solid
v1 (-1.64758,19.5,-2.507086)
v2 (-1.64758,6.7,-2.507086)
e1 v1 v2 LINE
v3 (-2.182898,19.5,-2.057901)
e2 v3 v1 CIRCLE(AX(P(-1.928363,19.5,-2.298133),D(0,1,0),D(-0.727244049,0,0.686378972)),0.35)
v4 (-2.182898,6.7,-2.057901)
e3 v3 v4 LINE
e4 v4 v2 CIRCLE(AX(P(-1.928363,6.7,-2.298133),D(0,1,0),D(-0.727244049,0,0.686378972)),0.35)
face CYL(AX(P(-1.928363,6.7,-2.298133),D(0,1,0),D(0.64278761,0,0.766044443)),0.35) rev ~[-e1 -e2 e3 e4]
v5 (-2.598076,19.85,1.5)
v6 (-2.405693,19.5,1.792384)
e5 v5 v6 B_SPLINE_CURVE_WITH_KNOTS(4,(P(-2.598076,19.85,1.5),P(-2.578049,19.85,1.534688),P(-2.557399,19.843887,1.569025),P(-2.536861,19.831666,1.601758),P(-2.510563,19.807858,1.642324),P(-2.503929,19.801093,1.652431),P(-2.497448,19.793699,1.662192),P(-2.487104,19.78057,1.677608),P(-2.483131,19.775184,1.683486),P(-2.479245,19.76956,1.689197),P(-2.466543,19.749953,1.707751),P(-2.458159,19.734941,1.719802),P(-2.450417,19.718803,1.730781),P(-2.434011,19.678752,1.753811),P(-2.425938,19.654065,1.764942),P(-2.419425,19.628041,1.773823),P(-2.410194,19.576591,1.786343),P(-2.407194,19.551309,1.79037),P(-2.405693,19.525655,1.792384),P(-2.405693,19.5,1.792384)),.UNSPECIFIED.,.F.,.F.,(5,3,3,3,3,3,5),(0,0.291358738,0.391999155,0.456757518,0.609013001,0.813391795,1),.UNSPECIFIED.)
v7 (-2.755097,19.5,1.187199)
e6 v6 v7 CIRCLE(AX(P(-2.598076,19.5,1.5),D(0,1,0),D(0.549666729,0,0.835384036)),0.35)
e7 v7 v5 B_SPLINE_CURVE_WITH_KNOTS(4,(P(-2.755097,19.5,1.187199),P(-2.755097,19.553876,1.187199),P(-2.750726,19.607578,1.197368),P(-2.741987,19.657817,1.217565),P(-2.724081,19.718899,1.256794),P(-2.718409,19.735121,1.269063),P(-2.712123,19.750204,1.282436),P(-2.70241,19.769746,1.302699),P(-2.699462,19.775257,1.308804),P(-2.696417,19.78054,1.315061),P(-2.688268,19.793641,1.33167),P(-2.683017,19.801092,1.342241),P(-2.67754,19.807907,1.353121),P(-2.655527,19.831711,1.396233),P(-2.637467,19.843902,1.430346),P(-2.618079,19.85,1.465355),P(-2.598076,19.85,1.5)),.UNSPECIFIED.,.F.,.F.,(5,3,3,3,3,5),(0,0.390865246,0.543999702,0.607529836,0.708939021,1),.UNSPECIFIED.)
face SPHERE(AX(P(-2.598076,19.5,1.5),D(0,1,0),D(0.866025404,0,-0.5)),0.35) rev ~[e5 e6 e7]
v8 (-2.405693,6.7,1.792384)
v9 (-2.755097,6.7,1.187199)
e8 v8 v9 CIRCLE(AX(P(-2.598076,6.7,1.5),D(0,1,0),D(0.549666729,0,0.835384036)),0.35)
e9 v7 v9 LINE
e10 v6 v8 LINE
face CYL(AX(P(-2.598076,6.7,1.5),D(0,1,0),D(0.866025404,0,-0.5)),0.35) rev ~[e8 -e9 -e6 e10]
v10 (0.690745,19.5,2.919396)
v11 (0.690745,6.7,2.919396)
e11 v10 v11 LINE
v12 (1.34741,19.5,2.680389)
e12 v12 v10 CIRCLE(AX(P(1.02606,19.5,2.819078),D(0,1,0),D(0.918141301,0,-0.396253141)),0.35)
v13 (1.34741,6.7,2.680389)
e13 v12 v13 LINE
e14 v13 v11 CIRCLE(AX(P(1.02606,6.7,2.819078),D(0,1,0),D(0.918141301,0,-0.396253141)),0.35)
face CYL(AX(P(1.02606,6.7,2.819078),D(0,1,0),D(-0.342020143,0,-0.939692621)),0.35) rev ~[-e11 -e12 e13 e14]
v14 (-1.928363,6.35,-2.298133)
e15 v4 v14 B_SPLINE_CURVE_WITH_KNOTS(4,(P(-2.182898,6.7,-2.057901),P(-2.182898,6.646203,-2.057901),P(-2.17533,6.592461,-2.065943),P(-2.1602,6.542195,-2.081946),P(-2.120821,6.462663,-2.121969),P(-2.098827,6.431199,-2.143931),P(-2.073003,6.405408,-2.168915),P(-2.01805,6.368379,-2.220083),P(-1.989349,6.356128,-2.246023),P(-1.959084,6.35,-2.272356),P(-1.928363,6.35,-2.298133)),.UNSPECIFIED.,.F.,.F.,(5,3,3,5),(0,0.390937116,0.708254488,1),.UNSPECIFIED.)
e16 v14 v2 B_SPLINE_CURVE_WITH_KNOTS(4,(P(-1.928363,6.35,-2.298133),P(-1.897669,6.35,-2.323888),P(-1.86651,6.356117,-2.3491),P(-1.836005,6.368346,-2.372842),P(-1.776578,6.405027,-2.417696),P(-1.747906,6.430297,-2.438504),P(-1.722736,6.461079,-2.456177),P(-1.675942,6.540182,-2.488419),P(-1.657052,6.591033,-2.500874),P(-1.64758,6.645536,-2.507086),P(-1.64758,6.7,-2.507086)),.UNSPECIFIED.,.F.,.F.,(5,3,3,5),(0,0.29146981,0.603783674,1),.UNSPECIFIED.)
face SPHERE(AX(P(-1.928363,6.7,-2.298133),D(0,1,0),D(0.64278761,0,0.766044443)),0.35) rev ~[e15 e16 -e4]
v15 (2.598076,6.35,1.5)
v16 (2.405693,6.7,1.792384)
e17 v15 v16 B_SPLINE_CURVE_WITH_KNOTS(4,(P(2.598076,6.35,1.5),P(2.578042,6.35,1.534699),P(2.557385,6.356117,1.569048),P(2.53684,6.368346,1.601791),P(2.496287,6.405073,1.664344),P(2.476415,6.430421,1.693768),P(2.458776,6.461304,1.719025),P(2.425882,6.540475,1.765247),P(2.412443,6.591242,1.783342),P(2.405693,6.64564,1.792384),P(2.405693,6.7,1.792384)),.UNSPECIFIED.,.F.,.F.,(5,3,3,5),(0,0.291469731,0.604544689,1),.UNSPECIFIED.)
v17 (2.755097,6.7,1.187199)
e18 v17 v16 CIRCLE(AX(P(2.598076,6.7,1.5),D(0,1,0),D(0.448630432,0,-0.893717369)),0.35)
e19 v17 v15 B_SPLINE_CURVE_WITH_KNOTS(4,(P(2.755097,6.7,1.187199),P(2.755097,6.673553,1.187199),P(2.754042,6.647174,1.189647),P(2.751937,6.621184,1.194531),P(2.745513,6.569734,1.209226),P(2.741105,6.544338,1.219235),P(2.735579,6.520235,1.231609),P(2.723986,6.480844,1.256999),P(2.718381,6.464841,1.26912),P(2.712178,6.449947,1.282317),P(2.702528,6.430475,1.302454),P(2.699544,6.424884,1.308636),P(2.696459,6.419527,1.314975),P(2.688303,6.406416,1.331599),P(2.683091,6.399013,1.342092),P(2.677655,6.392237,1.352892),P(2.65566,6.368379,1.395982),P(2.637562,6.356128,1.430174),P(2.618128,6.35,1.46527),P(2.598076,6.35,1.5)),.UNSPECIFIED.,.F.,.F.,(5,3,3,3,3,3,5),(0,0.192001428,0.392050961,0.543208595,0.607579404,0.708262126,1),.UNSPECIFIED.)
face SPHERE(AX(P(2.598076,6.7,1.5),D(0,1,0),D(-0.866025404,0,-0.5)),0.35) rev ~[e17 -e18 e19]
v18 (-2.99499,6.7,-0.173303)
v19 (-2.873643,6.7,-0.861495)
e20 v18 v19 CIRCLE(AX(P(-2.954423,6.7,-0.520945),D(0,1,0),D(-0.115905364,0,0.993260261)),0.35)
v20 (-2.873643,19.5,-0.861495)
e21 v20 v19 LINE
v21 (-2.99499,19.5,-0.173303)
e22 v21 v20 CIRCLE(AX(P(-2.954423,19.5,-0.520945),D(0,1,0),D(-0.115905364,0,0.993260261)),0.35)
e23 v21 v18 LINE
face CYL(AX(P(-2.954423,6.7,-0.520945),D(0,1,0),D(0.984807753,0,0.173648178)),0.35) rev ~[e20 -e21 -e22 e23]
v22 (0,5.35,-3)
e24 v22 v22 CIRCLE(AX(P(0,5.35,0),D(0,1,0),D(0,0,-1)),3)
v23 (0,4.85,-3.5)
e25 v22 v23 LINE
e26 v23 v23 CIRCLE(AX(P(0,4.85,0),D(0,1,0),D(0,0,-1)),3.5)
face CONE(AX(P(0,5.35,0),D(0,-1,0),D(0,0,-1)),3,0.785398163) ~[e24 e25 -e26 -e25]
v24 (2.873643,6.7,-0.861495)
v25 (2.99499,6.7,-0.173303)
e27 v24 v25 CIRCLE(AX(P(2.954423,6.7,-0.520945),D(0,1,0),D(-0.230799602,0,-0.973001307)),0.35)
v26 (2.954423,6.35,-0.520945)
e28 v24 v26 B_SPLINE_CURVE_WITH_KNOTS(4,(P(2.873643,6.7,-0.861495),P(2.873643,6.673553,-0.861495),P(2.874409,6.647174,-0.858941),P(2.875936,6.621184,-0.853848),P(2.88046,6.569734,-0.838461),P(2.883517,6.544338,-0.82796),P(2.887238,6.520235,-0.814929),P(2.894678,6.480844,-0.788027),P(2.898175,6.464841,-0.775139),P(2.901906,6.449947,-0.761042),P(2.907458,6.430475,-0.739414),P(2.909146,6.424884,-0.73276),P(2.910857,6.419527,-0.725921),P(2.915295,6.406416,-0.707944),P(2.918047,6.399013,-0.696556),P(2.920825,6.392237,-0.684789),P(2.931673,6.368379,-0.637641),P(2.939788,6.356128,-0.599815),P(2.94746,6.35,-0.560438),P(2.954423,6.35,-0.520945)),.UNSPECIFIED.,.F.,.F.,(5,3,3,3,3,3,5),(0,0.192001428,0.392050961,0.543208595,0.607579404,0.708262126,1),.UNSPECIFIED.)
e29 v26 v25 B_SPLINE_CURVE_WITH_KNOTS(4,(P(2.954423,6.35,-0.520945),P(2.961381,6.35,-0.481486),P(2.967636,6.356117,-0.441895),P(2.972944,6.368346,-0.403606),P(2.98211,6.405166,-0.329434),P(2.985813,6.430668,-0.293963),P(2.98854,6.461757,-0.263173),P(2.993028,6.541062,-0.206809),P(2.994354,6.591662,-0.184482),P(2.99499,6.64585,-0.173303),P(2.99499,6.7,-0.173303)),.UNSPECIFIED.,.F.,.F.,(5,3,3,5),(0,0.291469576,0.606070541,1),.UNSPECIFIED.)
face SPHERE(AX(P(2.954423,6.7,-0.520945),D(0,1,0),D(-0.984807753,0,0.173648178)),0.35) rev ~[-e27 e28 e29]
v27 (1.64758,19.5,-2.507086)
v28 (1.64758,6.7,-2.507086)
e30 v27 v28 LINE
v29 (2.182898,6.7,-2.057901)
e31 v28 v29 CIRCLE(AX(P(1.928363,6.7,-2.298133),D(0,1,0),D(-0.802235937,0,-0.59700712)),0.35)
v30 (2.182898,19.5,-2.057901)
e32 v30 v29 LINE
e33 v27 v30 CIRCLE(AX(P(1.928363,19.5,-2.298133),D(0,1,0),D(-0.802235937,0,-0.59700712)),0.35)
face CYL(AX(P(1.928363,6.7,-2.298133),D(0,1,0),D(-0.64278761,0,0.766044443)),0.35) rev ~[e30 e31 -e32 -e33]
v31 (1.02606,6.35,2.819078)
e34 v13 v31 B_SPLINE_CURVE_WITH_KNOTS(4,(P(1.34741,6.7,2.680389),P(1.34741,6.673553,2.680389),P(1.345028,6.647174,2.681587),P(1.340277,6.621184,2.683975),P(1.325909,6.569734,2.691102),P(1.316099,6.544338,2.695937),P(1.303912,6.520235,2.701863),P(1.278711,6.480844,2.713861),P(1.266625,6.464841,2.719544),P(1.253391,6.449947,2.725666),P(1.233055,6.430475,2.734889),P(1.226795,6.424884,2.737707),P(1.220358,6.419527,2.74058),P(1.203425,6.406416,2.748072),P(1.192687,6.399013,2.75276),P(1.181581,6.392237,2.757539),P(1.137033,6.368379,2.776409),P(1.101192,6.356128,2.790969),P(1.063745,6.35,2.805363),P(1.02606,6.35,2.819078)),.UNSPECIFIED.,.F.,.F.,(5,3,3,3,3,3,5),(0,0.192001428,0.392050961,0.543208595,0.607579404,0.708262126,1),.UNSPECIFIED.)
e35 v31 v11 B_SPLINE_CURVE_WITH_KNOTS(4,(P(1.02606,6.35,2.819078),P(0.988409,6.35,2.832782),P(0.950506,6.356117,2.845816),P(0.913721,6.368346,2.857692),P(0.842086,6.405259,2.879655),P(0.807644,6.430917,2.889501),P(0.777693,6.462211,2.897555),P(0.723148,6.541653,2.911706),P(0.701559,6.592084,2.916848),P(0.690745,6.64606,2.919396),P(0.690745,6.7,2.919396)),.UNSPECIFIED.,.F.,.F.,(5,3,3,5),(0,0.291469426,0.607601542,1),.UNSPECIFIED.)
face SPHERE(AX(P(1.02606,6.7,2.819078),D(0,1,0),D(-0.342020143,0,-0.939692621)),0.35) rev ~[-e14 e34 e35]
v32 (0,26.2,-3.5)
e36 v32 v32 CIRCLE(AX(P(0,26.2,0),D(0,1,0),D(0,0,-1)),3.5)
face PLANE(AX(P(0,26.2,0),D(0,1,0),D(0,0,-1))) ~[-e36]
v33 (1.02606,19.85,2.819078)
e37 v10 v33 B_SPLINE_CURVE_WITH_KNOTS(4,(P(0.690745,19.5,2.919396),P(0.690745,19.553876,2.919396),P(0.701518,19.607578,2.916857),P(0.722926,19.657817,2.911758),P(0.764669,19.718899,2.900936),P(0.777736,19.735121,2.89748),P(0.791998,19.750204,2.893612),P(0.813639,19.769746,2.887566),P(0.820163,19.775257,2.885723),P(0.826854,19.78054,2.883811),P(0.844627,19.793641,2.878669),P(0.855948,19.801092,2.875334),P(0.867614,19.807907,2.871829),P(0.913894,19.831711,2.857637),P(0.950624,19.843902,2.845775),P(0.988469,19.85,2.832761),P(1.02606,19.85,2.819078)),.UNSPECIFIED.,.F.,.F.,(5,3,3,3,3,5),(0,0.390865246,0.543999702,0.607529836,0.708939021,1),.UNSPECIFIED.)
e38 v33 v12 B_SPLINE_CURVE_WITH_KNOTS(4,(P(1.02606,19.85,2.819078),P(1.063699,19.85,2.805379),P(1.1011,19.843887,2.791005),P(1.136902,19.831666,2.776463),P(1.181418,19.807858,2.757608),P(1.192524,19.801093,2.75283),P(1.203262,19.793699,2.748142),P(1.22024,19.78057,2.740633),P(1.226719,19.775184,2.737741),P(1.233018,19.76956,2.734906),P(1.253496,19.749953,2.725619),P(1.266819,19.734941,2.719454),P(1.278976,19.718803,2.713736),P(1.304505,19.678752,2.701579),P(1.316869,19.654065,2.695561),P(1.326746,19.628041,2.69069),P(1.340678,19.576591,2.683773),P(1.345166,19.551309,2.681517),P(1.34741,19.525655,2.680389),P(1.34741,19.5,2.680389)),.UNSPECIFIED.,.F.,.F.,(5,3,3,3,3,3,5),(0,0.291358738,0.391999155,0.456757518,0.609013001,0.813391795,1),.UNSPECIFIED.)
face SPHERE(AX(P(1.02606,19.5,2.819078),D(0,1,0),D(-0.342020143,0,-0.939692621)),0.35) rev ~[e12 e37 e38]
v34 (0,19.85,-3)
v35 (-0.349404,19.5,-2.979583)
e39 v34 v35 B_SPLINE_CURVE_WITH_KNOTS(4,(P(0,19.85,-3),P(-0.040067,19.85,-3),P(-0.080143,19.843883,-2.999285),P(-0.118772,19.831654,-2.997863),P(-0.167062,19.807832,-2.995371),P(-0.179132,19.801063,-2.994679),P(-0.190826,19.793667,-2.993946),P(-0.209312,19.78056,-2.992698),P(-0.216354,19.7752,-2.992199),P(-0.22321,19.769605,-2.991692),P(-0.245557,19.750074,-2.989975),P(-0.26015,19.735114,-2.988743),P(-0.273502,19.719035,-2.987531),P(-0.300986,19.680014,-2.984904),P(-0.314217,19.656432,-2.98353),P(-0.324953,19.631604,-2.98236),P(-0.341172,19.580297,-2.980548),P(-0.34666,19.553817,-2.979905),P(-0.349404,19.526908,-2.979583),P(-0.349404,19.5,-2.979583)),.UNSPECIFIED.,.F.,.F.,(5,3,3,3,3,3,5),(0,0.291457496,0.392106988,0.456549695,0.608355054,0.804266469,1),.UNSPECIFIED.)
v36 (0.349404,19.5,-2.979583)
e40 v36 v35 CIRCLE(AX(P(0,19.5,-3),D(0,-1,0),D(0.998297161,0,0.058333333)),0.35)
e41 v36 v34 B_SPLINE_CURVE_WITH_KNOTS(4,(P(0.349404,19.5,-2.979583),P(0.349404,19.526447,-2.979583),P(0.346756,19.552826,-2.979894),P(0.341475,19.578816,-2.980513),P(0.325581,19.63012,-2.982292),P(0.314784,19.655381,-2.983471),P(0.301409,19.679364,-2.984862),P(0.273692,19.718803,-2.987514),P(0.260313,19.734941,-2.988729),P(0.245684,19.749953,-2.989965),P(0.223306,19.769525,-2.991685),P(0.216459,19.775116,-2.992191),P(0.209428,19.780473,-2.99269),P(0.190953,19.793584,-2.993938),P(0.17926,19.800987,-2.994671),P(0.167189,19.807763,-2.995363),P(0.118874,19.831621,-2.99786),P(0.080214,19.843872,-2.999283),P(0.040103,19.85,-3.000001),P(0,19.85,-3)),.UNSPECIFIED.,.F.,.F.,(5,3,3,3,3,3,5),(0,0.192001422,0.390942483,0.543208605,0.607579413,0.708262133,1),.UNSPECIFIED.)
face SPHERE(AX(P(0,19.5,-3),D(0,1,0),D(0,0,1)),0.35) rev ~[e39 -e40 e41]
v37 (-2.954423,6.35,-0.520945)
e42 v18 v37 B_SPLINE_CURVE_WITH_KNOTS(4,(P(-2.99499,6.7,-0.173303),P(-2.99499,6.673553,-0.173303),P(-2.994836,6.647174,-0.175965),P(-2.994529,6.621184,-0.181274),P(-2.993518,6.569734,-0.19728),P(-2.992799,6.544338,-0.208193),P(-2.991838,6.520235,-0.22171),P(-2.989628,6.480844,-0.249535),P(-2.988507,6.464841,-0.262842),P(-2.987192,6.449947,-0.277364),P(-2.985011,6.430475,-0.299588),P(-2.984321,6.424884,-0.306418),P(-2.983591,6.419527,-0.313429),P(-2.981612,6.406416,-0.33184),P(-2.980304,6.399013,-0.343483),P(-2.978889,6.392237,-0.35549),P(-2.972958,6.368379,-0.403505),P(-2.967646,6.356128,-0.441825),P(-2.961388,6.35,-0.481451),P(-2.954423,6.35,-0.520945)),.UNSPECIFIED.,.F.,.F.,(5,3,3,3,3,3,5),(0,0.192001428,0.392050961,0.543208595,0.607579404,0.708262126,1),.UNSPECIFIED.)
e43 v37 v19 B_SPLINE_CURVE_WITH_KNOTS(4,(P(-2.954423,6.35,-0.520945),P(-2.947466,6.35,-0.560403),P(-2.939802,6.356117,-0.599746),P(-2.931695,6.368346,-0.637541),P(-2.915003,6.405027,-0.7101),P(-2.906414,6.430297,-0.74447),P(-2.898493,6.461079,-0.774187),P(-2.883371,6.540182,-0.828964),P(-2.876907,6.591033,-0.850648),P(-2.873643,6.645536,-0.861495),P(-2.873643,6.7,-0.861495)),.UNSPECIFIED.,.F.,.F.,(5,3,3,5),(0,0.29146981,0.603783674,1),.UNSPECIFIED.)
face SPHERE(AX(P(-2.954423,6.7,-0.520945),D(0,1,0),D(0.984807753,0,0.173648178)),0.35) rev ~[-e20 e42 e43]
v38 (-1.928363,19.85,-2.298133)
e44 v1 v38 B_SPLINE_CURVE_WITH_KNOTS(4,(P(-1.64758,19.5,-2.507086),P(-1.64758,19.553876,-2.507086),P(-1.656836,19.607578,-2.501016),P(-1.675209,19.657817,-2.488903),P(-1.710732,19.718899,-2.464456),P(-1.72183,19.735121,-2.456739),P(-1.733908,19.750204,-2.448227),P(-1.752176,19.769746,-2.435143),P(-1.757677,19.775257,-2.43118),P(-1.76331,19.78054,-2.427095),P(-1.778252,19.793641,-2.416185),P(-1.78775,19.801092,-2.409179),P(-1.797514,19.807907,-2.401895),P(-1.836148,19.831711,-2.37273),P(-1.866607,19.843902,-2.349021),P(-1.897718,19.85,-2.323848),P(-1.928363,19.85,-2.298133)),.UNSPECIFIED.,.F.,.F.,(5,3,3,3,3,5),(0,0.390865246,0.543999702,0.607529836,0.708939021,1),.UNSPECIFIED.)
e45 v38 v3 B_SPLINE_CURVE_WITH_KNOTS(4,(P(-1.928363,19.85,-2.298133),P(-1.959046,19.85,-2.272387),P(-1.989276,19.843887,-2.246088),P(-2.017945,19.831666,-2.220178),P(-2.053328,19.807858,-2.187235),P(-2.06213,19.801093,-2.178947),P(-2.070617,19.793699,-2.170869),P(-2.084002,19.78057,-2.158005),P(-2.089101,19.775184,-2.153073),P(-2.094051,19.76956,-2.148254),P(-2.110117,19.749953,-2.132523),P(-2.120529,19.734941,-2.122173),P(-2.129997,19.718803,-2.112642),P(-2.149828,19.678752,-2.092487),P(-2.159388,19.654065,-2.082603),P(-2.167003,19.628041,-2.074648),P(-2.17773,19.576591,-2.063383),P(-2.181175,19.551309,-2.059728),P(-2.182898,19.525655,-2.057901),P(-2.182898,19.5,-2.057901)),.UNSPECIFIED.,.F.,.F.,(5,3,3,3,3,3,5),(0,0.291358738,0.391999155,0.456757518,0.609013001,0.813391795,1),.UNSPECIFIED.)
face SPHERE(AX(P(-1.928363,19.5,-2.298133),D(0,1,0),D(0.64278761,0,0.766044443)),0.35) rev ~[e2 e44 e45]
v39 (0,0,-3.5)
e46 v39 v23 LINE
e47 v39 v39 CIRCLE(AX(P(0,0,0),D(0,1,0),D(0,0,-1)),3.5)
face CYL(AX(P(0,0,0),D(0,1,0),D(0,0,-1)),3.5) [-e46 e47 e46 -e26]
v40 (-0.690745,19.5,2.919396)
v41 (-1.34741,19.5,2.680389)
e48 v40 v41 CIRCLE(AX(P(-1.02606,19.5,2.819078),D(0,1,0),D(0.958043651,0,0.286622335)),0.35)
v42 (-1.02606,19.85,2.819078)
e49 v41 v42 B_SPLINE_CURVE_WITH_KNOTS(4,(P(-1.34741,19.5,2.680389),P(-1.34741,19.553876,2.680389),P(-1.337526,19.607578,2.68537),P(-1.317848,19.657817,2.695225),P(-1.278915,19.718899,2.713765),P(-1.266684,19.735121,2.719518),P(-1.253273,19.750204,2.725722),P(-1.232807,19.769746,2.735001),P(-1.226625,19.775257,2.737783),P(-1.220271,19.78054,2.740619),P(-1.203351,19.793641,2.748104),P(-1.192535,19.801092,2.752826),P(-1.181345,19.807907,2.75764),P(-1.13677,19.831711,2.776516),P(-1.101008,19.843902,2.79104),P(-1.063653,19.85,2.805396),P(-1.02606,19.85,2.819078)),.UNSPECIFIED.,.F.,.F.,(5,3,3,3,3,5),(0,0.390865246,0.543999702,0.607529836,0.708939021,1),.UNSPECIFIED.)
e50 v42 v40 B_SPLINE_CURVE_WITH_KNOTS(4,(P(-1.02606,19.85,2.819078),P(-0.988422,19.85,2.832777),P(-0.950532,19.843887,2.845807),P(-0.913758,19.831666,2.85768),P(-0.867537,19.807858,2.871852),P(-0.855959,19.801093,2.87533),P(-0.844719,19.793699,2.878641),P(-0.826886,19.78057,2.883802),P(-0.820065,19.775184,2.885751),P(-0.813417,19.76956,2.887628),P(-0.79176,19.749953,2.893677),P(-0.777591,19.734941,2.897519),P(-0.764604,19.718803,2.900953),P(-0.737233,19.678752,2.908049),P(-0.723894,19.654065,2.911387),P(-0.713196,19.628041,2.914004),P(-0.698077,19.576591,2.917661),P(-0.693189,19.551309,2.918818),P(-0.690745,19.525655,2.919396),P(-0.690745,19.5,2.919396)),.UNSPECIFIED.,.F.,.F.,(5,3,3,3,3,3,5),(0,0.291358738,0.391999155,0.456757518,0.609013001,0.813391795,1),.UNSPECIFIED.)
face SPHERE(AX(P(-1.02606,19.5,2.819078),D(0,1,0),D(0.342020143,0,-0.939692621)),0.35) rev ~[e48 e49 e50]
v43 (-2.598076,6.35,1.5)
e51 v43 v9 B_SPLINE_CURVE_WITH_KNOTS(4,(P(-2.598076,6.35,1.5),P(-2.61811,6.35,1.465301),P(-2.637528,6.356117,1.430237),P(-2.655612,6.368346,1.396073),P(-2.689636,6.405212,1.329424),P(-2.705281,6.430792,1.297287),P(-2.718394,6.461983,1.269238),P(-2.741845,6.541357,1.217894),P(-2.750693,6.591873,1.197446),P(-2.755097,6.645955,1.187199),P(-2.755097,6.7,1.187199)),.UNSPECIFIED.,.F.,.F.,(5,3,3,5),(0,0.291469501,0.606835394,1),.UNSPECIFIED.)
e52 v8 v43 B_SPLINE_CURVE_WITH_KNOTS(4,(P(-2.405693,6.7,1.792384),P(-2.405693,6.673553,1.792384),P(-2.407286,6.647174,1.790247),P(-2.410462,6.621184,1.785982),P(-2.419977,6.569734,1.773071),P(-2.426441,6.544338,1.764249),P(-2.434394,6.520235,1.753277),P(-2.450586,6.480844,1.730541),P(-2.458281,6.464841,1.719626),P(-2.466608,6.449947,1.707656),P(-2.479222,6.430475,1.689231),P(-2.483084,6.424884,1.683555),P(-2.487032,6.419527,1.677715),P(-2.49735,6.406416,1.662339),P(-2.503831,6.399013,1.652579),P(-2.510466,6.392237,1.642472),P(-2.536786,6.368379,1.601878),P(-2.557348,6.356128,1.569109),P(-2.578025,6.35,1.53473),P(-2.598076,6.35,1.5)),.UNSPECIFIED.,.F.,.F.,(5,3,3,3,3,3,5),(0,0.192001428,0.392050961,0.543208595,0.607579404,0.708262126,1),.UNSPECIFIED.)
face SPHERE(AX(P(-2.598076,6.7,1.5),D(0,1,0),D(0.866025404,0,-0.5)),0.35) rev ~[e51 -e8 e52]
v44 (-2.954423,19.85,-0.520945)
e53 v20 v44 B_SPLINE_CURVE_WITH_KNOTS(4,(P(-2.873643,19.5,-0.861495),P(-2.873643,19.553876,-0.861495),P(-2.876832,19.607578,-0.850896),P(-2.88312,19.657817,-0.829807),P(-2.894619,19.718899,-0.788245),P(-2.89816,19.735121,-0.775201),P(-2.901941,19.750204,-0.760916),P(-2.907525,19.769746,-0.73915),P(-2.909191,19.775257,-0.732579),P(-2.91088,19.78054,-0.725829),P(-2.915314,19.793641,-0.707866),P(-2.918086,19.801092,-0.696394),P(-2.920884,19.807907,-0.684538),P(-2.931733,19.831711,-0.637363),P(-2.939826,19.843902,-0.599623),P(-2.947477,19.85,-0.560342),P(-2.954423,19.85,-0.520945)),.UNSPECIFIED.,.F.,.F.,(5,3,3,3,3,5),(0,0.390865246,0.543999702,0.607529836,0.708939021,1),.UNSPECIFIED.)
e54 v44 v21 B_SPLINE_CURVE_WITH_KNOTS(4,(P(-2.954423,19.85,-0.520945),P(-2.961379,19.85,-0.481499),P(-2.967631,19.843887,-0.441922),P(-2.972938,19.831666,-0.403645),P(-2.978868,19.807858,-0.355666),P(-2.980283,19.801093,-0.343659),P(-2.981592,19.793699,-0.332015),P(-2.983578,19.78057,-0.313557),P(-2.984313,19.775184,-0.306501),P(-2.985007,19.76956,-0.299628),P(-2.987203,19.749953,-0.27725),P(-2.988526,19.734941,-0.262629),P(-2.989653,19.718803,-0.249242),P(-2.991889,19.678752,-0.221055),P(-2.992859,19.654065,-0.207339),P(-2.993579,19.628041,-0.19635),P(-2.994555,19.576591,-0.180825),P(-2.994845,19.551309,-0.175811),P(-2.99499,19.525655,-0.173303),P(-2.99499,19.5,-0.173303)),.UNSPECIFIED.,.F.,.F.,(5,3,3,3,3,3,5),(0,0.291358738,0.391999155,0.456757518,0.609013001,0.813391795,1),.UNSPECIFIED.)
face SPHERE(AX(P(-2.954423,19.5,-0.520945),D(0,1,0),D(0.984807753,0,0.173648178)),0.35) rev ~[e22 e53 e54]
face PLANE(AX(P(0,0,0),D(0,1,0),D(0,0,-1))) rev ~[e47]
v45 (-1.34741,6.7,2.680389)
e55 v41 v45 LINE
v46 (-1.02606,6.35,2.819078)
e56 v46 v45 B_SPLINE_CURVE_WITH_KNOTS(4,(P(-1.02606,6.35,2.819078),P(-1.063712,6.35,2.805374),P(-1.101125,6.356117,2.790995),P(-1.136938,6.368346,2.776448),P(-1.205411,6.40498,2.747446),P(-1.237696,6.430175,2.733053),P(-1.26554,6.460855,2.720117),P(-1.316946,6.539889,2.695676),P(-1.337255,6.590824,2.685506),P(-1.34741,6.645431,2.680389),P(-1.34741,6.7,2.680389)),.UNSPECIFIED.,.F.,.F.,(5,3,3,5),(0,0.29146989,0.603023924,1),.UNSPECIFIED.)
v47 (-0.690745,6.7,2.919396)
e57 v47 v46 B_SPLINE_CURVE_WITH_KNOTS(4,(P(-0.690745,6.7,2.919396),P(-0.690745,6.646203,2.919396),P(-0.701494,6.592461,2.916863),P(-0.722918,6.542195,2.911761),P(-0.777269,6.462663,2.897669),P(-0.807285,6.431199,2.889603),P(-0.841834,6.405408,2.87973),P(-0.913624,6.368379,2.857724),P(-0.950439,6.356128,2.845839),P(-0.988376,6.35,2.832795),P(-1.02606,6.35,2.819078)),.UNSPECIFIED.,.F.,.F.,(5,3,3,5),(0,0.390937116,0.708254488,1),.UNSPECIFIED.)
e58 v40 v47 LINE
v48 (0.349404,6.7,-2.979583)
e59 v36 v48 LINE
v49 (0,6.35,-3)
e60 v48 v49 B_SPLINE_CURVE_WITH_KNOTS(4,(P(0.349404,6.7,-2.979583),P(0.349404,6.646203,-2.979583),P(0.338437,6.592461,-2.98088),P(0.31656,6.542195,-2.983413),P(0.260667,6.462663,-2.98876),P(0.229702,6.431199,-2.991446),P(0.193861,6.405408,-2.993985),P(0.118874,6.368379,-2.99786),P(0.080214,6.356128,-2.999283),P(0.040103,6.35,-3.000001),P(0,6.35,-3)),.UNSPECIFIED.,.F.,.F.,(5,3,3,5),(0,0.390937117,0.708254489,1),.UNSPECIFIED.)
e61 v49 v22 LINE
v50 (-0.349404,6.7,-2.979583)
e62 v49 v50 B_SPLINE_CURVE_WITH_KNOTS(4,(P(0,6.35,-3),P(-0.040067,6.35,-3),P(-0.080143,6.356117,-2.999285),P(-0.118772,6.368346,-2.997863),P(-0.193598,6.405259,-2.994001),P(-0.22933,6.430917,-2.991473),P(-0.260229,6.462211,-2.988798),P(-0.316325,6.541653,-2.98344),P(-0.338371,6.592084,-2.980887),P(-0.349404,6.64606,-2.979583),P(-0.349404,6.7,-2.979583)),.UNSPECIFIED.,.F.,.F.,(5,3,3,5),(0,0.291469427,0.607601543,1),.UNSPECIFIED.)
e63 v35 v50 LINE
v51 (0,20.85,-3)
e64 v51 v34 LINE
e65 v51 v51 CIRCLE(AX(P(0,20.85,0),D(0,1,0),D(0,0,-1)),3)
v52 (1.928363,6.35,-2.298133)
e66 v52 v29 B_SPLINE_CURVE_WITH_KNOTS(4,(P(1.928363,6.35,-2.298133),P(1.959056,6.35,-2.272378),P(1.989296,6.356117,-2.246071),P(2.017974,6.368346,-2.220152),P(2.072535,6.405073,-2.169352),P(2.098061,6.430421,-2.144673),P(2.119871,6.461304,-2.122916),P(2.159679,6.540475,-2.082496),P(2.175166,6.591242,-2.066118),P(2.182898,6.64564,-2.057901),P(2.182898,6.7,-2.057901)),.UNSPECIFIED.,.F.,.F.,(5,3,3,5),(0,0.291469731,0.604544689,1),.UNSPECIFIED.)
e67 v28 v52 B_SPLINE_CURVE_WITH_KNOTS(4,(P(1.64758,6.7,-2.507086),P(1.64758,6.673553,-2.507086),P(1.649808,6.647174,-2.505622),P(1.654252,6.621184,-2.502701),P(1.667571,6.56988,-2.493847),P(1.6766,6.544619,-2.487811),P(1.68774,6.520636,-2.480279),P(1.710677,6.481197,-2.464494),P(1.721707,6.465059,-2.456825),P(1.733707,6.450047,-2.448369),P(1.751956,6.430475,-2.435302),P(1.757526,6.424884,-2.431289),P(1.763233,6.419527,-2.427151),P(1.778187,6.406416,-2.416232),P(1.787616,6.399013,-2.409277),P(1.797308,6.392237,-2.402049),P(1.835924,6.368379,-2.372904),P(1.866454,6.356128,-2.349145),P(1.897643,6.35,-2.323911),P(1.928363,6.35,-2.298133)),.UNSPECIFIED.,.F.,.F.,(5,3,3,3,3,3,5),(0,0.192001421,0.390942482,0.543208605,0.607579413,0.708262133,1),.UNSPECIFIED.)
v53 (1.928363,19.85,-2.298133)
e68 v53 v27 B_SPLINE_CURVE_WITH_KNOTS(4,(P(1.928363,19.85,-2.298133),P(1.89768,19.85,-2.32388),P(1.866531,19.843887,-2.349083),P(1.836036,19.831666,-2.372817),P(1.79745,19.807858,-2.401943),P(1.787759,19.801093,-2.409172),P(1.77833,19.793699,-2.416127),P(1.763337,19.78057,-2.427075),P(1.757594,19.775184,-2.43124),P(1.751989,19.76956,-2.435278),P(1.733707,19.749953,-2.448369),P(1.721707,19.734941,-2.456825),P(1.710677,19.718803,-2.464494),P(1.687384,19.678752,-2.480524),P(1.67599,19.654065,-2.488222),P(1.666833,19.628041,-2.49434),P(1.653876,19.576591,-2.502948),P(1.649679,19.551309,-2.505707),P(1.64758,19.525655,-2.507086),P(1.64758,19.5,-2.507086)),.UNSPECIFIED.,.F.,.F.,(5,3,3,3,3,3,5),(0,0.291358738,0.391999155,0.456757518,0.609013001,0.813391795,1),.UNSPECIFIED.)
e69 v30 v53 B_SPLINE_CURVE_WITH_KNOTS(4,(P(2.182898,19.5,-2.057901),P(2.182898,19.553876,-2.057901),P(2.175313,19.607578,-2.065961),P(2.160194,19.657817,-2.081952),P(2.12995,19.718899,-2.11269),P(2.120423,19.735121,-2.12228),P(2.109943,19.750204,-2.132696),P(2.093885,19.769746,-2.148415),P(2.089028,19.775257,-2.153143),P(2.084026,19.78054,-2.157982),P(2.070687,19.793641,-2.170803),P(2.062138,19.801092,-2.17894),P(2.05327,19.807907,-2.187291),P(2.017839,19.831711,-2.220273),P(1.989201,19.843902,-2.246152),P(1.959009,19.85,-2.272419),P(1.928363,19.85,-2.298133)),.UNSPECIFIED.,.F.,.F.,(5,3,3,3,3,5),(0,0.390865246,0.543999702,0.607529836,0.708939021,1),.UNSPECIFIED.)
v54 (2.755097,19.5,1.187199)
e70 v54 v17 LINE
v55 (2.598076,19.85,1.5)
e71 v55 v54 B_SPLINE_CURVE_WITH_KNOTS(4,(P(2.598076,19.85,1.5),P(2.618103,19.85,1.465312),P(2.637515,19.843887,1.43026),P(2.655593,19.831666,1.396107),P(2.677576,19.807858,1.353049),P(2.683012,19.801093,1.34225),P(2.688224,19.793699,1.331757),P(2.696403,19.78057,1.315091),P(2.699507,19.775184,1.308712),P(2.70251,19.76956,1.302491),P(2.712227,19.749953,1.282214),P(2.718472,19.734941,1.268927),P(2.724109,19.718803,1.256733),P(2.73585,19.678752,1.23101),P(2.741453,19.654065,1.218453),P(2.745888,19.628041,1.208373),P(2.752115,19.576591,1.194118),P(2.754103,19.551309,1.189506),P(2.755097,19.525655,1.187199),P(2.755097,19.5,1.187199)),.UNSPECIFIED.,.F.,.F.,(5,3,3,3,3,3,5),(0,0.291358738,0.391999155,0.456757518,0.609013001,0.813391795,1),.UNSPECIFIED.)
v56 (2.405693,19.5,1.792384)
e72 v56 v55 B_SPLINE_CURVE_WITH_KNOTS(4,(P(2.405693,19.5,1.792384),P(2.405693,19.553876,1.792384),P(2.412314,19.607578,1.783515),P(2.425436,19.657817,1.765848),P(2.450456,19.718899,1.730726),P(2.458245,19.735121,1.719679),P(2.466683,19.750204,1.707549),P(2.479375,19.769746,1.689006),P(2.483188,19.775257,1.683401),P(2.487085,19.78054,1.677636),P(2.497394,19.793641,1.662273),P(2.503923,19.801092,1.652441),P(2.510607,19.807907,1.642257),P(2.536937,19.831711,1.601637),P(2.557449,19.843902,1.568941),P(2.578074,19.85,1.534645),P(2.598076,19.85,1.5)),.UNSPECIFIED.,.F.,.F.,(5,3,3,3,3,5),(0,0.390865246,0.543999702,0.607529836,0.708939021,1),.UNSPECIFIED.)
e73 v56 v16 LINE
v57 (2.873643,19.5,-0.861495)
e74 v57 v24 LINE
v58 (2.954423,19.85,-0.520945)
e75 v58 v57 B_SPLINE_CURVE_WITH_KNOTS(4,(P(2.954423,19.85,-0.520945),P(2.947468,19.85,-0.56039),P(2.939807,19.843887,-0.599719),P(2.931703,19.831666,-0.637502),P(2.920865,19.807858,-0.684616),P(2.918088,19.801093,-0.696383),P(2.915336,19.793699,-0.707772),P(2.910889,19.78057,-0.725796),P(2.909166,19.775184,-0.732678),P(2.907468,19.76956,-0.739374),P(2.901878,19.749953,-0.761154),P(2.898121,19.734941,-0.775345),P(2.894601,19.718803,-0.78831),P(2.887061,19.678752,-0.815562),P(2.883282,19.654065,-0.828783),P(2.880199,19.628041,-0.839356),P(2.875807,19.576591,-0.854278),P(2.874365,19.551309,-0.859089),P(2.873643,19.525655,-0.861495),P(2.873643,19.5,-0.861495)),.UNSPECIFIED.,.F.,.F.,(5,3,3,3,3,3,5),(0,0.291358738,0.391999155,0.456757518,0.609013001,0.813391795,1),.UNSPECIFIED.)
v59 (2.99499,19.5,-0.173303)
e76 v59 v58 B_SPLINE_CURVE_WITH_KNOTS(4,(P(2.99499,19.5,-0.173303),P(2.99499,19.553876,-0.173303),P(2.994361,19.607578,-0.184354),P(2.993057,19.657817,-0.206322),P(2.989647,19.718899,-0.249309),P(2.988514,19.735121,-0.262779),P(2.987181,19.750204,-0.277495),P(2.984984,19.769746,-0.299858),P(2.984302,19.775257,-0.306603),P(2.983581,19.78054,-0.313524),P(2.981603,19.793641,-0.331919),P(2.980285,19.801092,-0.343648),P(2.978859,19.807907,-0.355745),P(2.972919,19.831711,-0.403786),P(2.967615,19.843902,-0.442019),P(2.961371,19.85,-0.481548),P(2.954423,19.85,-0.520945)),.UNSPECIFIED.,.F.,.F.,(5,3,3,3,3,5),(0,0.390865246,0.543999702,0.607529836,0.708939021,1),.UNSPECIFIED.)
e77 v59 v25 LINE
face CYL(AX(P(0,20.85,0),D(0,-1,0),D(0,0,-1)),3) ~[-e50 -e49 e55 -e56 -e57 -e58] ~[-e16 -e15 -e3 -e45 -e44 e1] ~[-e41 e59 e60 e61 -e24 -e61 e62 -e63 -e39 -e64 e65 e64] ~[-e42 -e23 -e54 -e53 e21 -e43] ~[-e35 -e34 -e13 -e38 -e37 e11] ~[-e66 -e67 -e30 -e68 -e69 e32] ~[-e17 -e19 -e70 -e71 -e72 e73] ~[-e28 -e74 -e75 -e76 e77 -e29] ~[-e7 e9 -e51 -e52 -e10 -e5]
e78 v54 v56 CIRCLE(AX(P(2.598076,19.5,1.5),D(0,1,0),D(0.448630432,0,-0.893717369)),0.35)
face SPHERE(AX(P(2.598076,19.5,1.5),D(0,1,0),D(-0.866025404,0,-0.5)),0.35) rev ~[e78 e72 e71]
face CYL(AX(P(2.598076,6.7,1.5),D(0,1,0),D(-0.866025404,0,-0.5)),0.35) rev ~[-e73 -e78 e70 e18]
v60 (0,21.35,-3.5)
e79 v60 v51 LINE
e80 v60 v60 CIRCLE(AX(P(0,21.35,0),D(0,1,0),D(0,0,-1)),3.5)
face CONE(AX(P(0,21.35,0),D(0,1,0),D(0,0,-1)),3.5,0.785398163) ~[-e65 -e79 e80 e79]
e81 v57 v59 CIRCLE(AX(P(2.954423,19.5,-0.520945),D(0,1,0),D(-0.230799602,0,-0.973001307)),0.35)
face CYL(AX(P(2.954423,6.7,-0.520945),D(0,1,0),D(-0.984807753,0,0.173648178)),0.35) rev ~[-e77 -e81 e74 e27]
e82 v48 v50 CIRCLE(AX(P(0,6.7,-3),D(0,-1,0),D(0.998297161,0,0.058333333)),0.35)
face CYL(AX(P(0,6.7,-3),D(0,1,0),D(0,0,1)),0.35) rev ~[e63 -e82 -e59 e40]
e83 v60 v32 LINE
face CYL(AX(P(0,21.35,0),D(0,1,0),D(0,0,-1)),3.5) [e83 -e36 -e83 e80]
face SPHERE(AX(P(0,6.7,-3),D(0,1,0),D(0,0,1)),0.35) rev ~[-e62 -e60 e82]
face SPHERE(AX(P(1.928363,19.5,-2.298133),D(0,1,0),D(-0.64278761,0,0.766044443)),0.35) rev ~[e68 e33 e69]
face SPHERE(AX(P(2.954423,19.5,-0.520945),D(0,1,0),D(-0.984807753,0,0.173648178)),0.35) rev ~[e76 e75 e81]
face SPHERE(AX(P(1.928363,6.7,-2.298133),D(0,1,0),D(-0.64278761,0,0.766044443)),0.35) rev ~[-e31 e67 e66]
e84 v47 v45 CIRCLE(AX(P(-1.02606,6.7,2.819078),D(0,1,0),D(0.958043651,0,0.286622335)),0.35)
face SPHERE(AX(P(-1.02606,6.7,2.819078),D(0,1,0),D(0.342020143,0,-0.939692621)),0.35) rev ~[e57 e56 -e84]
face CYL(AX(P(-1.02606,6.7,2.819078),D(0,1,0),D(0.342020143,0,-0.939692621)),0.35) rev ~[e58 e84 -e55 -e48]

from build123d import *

# Parameters (mm, degrees)
COLUMN_CIRCULAR_PATTERN_CUT_COUNT = 9


with BuildPart() as part:
    # Sketch1 → Main Support Pole (revolve)
    with BuildSketch(Plane.XY, mode=Mode.PRIVATE) as main_support_pole_sk:
        Polygon((0, 0), (0, 26.2), (3.5, 26.2), (3.5, 23.35), (3.5, 21.35), (3, 20.85), (3, 5.35), (3.5, 4.85), (3.5, 2.85), (3.5, 0), align=None)
    revolve(main_support_pole_sk.sketch.rotate(Axis((0, 26.2, 0), (0, 1, 0)), 90), axis=Axis((0, 26.2, 0), (0, 1, 0)))

    # Sketch2 → Column Cut (revolve, cut)
    with BuildSketch(Plane(origin=(0, 0, 0), x_dir=(0, 0, -1), z_dir=(1, 0, 0))):
        with BuildLine():
            Line((3, 19.85), (3, 6.35))
            ThreePointArc((3, 6.35), (2.752512627, 6.452512627), (2.65, 6.7))
            Line((2.65, 6.7), (2.65, 19.5))
            ThreePointArc((2.65, 19.5), (2.752512627, 19.747487373), (3, 19.85))
        make_face()
    column_cut = revolve(axis=Axis((0, 19.85, -3), (0, 1, 0)), mode=Mode.SUBTRACT)

    # Column Circular Pattern Cut: Column Cut ×9 about axis
    column_circular_pattern_cut_axis = Axis((0, 0, 0), (0, 1, 0))
    for i in range(1, COLUMN_CIRCULAR_PATTERN_CUT_COUNT):
        add(column_cut.rotate(column_circular_pattern_cut_axis, i * 360 / COLUMN_CIRCULAR_PATTERN_CUT_COUNT), mode=Mode.SUBTRACT)


solid = part.part
